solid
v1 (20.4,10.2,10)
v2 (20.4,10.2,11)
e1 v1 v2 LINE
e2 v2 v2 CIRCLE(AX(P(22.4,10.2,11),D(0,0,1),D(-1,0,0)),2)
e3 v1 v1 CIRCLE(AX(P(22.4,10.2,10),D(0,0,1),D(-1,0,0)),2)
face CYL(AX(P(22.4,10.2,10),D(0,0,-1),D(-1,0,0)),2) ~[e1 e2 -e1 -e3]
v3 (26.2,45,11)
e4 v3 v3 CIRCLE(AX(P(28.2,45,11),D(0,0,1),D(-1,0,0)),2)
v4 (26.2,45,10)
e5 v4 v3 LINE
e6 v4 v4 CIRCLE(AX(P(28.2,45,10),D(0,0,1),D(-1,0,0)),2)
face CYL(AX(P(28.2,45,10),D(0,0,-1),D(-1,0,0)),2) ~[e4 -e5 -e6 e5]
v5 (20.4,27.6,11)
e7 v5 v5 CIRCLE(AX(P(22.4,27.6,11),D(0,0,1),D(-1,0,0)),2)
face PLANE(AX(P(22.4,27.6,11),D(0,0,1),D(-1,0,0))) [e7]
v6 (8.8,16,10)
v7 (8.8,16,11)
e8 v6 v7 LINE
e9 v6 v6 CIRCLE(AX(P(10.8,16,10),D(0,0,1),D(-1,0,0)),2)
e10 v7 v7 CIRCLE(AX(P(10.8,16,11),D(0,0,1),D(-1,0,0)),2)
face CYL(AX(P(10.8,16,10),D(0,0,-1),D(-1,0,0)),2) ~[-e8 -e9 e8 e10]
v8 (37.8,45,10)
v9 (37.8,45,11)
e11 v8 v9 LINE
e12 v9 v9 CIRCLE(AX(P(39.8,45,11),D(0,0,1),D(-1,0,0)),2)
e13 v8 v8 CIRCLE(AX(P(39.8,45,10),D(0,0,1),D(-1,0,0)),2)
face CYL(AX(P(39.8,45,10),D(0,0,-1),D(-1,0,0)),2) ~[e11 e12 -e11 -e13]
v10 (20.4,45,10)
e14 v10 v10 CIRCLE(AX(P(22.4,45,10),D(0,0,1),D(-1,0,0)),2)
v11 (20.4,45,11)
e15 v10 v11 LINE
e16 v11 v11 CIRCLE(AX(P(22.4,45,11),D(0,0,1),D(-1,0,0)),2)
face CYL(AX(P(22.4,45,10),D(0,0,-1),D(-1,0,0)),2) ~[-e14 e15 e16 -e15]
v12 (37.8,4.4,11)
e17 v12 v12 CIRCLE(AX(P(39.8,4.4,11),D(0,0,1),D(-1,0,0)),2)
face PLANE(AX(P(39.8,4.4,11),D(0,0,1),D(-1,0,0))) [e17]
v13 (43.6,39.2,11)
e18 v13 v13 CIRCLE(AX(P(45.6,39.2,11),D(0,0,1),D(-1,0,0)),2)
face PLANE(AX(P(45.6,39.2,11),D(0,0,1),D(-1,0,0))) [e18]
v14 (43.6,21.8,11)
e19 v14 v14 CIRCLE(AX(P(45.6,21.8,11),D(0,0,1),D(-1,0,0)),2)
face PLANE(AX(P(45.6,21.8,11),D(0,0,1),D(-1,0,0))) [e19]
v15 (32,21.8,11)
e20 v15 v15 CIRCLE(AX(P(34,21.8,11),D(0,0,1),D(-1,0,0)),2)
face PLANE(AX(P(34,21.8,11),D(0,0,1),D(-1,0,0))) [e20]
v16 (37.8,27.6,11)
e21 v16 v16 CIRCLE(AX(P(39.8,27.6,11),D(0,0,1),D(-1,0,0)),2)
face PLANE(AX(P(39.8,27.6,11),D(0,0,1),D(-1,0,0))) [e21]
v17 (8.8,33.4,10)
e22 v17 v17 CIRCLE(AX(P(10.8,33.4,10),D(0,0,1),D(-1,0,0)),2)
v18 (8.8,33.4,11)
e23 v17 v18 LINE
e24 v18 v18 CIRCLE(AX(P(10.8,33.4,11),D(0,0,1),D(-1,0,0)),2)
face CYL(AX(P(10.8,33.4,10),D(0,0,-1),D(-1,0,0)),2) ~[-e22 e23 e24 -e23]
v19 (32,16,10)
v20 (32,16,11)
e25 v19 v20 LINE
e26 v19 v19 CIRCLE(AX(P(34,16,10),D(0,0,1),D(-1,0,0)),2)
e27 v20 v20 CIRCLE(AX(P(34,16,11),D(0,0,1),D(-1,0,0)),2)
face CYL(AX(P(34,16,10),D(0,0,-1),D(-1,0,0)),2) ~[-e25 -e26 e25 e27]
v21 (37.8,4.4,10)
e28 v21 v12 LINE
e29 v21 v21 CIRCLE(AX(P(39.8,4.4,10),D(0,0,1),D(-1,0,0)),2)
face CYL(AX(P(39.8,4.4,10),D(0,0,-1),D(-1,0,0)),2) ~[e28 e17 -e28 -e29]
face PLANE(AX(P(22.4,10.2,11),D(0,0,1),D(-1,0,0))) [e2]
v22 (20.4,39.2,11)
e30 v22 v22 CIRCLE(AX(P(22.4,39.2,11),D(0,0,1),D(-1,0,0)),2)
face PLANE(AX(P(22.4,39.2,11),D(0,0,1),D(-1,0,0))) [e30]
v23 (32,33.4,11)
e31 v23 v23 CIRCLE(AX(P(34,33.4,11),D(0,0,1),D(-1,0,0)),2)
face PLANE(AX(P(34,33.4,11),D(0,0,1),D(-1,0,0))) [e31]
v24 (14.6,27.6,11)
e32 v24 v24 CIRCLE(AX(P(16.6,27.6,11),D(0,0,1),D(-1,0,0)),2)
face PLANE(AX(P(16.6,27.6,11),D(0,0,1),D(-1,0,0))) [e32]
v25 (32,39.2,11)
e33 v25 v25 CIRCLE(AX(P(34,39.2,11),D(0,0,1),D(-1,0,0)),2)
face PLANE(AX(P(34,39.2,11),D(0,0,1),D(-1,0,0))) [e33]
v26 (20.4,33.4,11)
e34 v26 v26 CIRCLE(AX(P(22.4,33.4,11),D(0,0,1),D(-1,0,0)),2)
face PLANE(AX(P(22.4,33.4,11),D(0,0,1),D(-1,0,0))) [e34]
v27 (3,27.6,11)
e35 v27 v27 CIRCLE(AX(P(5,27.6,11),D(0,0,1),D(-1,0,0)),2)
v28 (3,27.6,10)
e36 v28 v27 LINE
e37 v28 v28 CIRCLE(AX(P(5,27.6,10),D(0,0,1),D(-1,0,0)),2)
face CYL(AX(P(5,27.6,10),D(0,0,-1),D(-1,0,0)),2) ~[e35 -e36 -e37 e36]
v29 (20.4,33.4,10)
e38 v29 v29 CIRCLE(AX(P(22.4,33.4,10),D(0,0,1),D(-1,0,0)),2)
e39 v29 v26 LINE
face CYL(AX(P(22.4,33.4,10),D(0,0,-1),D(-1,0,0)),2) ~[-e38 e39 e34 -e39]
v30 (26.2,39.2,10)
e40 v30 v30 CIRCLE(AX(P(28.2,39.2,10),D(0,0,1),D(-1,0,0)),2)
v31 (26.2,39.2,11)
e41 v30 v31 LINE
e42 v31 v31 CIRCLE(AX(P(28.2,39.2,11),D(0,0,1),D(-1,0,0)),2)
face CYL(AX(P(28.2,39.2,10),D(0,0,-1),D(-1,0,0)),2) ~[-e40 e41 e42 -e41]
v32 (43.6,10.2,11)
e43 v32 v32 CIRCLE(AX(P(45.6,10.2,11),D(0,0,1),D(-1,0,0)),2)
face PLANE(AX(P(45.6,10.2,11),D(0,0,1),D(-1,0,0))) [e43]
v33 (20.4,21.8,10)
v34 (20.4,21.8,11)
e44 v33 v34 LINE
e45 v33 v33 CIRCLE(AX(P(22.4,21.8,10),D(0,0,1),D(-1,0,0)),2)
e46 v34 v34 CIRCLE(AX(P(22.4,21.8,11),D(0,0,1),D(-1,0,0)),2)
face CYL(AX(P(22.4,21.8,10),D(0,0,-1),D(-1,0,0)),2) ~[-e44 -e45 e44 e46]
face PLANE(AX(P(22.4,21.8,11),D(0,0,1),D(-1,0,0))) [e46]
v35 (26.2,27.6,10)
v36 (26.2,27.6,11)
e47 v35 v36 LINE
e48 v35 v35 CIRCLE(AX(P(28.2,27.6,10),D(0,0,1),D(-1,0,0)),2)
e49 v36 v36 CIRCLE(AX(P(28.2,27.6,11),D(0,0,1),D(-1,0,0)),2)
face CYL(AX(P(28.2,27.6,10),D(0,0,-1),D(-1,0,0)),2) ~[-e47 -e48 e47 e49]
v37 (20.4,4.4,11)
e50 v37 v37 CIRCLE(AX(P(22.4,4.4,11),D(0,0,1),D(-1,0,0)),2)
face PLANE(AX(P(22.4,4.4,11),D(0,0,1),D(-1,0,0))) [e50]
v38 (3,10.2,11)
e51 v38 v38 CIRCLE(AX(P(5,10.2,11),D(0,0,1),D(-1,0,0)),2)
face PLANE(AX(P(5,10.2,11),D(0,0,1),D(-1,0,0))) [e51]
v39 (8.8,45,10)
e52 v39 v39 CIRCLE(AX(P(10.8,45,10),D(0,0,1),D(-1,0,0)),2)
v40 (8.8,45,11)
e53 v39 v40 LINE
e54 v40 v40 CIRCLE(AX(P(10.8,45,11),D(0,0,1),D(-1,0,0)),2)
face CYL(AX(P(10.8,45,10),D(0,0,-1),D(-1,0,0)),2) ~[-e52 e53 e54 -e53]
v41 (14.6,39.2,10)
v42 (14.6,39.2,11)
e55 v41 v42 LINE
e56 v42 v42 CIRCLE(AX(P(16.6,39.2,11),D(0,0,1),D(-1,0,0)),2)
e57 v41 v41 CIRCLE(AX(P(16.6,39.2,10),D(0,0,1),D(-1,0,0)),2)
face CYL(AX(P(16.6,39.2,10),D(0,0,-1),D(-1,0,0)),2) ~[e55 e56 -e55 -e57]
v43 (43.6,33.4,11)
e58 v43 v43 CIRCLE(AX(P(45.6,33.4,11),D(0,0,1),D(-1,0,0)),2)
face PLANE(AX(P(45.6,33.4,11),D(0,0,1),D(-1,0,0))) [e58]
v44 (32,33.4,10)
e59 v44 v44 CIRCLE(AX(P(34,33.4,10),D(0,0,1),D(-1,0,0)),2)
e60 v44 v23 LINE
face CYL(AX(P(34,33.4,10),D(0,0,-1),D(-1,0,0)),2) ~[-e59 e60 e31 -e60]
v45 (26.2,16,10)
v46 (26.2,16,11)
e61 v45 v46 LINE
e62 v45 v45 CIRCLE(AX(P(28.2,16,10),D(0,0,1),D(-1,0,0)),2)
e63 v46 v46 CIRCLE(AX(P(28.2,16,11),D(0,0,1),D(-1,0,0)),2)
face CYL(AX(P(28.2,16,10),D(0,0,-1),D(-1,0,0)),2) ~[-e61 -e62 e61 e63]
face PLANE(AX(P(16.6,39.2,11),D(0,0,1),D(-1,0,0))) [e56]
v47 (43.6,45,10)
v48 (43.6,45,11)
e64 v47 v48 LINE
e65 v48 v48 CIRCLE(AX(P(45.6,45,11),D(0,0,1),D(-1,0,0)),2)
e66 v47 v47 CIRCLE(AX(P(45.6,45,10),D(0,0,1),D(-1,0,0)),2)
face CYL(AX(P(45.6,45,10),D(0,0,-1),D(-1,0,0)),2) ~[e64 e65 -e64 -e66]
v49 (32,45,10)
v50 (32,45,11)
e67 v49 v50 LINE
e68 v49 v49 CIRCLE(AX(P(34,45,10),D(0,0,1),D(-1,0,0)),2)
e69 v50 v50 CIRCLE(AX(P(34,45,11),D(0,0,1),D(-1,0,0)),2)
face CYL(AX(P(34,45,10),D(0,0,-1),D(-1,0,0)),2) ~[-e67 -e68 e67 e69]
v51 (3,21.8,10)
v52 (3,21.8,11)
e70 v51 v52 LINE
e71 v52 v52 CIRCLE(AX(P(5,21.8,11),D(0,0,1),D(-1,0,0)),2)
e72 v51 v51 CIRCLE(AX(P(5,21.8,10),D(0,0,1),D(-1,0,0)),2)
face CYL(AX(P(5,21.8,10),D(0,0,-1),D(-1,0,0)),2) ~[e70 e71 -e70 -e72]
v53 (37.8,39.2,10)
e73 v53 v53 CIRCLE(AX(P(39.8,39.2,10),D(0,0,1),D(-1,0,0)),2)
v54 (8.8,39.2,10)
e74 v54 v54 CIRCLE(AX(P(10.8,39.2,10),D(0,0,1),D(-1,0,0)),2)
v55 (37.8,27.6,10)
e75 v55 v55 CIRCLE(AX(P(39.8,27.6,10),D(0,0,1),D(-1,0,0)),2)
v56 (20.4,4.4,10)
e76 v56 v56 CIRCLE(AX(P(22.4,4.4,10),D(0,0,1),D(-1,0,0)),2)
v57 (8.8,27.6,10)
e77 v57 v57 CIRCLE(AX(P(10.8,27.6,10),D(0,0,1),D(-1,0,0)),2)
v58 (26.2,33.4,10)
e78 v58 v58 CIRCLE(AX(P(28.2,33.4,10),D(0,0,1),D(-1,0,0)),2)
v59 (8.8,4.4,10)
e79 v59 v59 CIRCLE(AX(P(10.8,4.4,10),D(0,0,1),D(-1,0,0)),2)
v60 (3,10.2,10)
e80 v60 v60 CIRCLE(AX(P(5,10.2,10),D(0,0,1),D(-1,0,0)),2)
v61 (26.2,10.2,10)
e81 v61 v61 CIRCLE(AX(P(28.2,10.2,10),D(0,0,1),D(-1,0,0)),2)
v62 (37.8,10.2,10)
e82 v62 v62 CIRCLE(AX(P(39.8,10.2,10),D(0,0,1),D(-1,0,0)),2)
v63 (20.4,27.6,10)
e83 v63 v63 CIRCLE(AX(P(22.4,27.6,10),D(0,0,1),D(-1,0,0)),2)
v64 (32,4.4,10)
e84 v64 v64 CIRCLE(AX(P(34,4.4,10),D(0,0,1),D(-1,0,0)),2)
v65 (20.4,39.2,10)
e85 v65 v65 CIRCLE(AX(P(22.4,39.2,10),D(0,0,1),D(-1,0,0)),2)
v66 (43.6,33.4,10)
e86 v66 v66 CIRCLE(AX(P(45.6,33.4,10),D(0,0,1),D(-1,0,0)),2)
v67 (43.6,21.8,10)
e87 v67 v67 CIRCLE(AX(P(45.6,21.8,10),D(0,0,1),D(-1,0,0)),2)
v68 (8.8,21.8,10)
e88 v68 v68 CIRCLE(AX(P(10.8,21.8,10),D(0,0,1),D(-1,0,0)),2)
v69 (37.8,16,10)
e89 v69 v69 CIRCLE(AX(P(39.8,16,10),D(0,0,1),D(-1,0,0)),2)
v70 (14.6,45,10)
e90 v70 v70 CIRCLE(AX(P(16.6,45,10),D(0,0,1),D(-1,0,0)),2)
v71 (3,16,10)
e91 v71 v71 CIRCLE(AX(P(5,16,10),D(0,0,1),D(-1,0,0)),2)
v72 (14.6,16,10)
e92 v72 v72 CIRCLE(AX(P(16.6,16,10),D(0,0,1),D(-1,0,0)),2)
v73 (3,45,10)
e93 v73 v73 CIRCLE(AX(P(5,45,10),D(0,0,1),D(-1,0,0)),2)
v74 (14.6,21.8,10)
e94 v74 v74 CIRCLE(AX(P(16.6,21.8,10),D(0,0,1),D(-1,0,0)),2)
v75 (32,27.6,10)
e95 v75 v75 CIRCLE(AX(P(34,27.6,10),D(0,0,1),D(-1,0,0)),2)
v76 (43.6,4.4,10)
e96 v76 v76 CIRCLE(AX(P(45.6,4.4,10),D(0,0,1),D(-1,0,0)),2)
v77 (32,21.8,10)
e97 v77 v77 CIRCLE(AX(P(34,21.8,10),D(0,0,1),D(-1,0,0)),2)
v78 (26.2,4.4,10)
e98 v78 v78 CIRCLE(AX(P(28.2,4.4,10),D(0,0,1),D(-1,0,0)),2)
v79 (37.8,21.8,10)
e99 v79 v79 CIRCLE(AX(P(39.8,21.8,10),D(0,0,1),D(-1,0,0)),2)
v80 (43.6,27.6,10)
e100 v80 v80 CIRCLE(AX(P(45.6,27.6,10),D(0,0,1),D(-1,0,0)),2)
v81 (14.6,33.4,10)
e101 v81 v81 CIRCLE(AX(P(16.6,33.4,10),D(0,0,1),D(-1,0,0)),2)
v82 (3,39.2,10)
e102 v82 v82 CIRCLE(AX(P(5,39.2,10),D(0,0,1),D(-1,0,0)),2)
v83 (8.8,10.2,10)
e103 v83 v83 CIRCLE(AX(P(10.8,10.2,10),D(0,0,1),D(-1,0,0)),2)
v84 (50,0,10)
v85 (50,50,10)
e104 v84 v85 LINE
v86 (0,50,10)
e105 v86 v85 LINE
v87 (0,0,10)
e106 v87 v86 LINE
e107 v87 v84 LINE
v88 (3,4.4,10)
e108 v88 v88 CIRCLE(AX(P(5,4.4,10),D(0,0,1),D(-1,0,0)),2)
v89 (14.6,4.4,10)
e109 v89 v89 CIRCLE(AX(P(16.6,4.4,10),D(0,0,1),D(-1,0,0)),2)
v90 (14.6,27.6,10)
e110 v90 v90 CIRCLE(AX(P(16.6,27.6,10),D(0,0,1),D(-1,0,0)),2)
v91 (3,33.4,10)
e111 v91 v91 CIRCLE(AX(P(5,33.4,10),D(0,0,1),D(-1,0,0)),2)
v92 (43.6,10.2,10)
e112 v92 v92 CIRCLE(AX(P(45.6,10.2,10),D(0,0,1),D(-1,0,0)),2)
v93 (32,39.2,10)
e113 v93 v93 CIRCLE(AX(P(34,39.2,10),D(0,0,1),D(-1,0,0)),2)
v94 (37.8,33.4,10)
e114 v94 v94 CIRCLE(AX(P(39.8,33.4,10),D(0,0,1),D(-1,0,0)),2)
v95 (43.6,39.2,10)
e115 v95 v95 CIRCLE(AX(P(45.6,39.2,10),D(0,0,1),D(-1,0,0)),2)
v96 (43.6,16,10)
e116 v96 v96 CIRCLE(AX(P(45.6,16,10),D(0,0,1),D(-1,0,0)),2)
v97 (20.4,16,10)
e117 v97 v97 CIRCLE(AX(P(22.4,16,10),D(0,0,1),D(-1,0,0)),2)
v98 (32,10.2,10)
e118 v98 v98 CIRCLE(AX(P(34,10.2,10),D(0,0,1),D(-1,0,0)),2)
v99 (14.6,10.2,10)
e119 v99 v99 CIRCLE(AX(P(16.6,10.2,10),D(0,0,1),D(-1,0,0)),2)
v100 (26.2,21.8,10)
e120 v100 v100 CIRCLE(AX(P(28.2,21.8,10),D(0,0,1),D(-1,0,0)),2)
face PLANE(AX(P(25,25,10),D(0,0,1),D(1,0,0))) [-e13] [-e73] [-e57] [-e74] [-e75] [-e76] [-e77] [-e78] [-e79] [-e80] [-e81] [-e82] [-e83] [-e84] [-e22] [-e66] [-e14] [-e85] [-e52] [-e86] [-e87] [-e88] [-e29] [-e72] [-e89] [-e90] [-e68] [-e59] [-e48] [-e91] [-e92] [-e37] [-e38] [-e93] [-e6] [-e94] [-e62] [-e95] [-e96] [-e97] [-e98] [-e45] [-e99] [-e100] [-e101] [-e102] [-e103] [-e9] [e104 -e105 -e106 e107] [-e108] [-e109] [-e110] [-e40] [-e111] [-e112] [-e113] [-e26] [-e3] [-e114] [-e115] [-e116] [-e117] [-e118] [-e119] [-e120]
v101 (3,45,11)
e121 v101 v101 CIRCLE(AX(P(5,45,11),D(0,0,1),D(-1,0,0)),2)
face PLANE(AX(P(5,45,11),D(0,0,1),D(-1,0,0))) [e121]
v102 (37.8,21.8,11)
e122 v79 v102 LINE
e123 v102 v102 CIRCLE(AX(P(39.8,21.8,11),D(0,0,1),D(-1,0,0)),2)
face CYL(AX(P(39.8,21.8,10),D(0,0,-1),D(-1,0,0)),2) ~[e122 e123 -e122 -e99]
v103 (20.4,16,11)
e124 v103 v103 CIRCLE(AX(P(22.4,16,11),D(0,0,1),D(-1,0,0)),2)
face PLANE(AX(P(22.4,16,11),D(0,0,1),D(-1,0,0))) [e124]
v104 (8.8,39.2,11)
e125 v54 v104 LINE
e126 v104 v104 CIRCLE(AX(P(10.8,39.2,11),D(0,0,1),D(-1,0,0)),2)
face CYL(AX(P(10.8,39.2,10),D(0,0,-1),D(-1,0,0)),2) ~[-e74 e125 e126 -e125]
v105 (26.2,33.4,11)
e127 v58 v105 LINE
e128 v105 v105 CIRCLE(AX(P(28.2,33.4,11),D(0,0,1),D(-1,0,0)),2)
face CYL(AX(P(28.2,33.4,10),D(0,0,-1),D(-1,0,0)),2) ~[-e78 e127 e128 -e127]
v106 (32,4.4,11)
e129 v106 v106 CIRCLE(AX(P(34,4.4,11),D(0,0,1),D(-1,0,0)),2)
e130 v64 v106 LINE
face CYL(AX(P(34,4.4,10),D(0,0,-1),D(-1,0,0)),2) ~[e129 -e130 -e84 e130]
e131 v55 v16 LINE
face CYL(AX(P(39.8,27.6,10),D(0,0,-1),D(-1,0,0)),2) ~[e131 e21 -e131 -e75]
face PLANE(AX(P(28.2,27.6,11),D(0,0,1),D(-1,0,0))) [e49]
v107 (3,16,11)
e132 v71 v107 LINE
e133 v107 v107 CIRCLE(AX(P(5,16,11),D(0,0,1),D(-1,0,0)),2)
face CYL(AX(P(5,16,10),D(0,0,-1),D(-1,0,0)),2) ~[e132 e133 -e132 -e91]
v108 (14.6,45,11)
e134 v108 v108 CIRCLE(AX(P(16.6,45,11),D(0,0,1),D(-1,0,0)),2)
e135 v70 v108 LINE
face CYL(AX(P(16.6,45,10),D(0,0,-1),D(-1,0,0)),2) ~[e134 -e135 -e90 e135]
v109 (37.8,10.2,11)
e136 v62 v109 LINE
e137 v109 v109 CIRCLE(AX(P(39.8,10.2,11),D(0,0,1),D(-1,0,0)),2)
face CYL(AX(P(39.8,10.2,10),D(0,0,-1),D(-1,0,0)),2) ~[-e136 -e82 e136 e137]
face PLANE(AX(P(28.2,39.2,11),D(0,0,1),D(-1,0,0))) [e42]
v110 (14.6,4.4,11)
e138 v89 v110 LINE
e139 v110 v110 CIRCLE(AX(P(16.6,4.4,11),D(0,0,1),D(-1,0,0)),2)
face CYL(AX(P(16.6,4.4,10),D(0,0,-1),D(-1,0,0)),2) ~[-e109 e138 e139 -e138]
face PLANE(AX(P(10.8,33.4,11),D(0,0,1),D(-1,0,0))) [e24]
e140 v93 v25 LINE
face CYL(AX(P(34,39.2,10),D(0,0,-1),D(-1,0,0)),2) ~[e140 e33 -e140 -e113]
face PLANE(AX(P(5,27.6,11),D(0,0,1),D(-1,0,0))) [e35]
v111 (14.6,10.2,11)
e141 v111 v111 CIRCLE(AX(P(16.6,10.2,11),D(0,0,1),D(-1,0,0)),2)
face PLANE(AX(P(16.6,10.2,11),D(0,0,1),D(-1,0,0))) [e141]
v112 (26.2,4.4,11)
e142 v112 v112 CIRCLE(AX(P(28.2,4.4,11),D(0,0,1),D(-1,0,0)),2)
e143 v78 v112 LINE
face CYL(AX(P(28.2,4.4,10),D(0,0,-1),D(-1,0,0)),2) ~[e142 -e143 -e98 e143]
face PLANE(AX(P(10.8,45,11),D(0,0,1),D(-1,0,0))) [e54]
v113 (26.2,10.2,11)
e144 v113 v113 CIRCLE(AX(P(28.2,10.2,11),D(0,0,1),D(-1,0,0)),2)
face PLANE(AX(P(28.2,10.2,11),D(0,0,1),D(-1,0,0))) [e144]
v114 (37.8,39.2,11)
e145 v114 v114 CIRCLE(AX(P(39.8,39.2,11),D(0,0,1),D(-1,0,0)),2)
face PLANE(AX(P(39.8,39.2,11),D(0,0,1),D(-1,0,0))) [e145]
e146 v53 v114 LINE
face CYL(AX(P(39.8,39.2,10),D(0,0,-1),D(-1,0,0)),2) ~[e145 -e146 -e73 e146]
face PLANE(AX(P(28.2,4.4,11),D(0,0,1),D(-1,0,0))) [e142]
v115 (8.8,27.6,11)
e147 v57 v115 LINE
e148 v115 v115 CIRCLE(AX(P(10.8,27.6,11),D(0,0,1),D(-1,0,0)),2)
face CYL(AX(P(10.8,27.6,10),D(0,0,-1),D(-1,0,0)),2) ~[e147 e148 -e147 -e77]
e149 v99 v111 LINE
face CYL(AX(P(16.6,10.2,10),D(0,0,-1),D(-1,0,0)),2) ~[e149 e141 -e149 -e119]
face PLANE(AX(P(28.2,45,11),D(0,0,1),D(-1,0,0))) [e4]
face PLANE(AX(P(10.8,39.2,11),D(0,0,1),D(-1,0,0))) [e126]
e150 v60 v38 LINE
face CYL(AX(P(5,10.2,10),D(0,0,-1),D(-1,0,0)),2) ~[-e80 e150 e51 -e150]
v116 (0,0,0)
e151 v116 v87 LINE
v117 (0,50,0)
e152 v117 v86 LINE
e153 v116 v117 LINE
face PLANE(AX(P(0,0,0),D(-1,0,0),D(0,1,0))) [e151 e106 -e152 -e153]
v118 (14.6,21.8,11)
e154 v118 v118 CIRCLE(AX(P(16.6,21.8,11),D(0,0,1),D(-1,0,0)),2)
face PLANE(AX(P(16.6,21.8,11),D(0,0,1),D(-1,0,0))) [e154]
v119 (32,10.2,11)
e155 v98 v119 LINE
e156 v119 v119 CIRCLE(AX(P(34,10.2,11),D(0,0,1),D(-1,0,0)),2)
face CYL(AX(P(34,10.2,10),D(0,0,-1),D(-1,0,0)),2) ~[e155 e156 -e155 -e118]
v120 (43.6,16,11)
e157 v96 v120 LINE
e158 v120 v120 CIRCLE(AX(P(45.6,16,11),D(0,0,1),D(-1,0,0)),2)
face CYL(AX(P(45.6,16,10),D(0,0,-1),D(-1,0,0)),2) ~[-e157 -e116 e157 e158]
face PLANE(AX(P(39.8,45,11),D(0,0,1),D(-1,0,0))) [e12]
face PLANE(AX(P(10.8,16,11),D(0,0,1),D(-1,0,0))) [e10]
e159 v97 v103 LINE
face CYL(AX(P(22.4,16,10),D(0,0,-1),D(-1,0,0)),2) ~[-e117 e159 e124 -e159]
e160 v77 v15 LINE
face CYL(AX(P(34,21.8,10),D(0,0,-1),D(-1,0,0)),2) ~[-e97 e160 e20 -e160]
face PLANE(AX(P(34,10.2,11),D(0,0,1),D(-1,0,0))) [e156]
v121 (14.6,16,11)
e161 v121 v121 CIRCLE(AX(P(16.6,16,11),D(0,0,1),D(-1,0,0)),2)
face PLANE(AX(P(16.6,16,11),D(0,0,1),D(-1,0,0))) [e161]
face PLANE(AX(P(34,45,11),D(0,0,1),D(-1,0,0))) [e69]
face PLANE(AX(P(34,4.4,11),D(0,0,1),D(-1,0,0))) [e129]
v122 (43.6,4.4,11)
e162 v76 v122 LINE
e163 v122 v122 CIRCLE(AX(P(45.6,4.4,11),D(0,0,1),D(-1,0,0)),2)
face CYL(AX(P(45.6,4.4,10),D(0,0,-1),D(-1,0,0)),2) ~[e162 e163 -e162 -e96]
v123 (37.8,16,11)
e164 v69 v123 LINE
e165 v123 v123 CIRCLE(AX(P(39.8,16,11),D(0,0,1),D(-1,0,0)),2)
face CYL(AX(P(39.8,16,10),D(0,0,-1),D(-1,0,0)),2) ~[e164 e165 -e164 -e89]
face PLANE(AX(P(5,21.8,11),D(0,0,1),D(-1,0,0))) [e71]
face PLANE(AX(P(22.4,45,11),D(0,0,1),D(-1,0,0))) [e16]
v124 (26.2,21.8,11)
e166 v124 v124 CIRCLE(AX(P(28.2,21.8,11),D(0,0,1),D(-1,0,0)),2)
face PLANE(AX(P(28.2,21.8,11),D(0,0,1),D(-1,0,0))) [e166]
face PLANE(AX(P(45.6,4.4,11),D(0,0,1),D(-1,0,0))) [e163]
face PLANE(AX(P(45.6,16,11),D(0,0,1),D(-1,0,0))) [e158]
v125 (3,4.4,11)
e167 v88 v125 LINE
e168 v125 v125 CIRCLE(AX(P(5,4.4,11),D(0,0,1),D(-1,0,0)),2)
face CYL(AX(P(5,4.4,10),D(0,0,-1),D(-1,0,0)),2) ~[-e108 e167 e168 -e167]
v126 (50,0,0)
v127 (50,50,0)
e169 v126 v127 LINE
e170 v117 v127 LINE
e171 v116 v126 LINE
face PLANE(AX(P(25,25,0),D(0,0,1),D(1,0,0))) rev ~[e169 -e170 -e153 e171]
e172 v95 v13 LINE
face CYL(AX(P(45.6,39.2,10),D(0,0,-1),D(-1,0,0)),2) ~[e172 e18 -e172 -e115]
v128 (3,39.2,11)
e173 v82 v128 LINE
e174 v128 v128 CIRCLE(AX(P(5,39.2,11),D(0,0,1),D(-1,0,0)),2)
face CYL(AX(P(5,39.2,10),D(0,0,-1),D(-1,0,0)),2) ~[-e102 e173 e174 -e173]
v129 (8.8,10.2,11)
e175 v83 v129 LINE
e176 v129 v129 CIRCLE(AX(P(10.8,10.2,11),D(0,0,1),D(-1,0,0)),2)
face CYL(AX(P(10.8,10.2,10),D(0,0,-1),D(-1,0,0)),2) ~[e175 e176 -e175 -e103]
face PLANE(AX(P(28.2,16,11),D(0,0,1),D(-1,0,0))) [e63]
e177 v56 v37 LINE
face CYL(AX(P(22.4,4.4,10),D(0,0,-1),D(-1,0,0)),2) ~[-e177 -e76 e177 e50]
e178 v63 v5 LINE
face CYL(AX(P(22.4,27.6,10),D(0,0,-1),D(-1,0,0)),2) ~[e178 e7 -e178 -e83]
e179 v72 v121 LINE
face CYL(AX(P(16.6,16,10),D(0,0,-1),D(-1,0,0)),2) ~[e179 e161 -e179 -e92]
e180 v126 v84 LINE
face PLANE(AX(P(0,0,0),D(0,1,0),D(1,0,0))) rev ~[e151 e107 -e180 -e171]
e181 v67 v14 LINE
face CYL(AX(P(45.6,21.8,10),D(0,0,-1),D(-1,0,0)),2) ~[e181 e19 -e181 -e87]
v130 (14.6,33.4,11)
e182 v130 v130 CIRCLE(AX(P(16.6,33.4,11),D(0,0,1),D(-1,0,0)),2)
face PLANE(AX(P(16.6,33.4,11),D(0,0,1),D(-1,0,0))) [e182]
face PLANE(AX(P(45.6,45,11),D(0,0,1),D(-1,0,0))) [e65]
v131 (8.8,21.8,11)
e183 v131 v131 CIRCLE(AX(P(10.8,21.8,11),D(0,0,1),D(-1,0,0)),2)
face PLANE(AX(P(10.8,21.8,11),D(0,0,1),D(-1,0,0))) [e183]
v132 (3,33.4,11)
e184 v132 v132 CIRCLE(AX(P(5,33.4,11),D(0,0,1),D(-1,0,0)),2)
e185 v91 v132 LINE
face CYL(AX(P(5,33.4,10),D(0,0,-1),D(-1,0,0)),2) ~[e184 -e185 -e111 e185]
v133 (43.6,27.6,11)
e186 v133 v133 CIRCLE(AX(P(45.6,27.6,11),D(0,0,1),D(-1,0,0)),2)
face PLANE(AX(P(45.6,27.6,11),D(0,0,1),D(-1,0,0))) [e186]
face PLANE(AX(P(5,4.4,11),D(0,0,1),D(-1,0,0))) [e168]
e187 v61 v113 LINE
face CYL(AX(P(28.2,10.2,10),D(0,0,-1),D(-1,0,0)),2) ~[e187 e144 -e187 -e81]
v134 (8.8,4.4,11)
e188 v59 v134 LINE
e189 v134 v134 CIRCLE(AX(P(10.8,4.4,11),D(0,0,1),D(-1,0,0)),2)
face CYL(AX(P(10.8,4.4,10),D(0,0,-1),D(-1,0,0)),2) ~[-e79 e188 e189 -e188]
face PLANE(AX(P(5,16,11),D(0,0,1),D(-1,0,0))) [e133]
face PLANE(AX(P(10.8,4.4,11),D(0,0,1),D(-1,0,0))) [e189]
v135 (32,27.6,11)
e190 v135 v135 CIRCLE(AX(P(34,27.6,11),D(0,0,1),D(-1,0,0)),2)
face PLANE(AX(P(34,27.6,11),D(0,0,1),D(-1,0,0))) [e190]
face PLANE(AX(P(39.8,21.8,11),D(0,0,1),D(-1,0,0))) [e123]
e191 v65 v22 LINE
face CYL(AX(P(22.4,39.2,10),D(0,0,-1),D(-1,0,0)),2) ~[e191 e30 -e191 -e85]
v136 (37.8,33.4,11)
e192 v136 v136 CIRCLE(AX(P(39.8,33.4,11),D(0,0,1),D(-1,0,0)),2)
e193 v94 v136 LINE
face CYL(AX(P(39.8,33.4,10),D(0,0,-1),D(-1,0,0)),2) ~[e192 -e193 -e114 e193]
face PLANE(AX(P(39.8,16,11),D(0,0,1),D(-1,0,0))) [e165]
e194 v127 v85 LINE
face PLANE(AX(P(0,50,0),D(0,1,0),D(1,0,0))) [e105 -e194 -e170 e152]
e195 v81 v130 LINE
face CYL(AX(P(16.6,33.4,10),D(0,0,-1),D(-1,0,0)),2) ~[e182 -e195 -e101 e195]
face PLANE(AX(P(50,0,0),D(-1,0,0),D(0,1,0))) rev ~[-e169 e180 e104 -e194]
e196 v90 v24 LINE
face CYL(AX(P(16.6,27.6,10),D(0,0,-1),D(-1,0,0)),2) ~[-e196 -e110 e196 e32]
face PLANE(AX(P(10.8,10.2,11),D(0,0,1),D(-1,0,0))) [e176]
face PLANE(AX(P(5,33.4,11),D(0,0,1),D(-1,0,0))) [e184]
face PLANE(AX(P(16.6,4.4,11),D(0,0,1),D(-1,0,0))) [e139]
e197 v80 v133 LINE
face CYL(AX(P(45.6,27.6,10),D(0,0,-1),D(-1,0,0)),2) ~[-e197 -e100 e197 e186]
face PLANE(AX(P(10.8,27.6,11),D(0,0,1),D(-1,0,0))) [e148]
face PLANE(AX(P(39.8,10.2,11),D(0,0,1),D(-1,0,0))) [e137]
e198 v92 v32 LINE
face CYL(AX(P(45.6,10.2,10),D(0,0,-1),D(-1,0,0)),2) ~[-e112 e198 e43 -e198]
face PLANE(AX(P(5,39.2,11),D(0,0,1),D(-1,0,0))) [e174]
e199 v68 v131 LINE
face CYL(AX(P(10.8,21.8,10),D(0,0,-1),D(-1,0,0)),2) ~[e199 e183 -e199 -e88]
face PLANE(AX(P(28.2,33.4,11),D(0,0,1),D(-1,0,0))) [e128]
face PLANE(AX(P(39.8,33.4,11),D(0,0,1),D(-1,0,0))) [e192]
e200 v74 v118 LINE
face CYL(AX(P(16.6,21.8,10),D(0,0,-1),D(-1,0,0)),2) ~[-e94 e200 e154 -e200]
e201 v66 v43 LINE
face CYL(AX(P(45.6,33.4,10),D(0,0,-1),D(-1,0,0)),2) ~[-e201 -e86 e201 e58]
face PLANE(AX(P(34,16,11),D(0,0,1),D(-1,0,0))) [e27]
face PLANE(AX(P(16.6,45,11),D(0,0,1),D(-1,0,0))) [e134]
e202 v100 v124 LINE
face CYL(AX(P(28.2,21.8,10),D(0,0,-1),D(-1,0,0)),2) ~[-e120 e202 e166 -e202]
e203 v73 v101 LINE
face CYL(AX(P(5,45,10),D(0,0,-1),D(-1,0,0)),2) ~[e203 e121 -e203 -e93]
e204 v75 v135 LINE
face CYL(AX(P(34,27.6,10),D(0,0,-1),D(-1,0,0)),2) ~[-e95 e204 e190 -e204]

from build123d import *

# Parameters (mm, degrees)
SKETCH_1_W      = 50
SKETCH_1_H      = 50
EXTRUDE_1_DEPTH = 10
SKETCH_2_R      = 2
EXTRUDE_2_DEPTH = 1


with BuildPart() as part:
    # 草圖1 → 填料-伸長1 (new body)
    with BuildSketch(Plane.XY):
        with Locations((25, 25)):
            Rectangle(SKETCH_1_W, SKETCH_1_H)
    extrude(amount=EXTRUDE_1_DEPTH)

    # 草圖2 → 填料-伸長2 (add)
    with BuildSketch(Plane.XY.offset(10)):
        with Locations(Location((5, 45, 0), (0, 0, 180))):
            Circle(SKETCH_2_R)
        with Locations(Location((10.8, 45, 0), (0, 0, 180))):
            Circle(SKETCH_2_R)
        with Locations(Location((16.6, 45, 0), (0, 0, 180))):
            Circle(SKETCH_2_R)
        with Locations(Location((22.4, 45, 0), (0, 0, 180))):
            Circle(SKETCH_2_R)
        with Locations(Location((28.2, 45, 0), (0, 0, 180))):
            Circle(SKETCH_2_R)
        with Locations(Location((34, 45, 0), (0, 0, 180))):
            Circle(SKETCH_2_R)
        with Locations(Location((39.8, 45, 0), (0, 0, 180))):
            Circle(SKETCH_2_R)
        with Locations(Location((45.6, 45, 0), (0, 0, 180))):
            Circle(SKETCH_2_R)
        with Locations(Location((5, 39.2, 0), (0, 0, 180))):
            Circle(SKETCH_2_R)
        with Locations(Location((10.8, 39.2, 0), (0, 0, 180))):
            Circle(SKETCH_2_R)
        with Locations(Location((16.6, 39.2, 0), (0, 0, 180))):
            Circle(SKETCH_2_R)
        with Locations(Location((22.4, 39.2, 0), (0, 0, 180))):
            Circle(SKETCH_2_R)
        with Locations(Location((28.2, 39.2, 0), (0, 0, 180))):
            Circle(SKETCH_2_R)
        with Locations(Location((34, 39.2, 0), (0, 0, 180))):
            Circle(SKETCH_2_R)
        with Locations(Location((39.8, 39.2, 0), (0, 0, 180))):
            Circle(SKETCH_2_R)
        with Locations(Location((45.6, 39.2, 0), (0, 0, 180))):
            Circle(SKETCH_2_R)
        with Locations(Location((5, 33.4, 0), (0, 0, 180))):
            Circle(SKETCH_2_R)
        with Locations(Location((10.8, 33.4, 0), (0, 0, 180))):
            Circle(SKETCH_2_R)
        with Locations(Location((16.6, 33.4, 0), (0, 0, 180))):
            Circle(SKETCH_2_R)
        with Locations(Location((22.4, 33.4, 0), (0, 0, 180))):
            Circle(SKETCH_2_R)
        with Locations(Location((28.2, 33.4, 0), (0, 0, 180))):
            Circle(SKETCH_2_R)
        with Locations(Location((34, 33.4, 0), (0, 0, 180))):
            Circle(SKETCH_2_R)
        with Locations(Location((39.8, 33.4, 0), (0, 0, 180))):
            Circle(SKETCH_2_R)
        with Locations(Location((45.6, 33.4, 0), (0, 0, 180))):
            Circle(SKETCH_2_R)
        with Locations(Location((5, 27.6, 0), (0, 0, 180))):
            Circle(SKETCH_2_R)
        with Locations(Location((10.8, 27.6, 0), (0, 0, 180))):
            Circle(SKETCH_2_R)
        with Locations(Location((16.6, 27.6, 0), (0, 0, 180))):
            Circle(SKETCH_2_R)
        with Locations(Location((22.4, 27.6, 0), (0, 0, 180))):
            Circle(SKETCH_2_R)
        with Locations(Location((28.2, 27.6, 0), (0, 0, 180))):
            Circle(SKETCH_2_R)
        with Locations(Location((34, 27.6, 0), (0, 0, 180))):
            Circle(SKETCH_2_R)
        with Locations(Location((39.8, 27.6, 0), (0, 0, 180))):
            Circle(SKETCH_2_R)
        with Locations(Location((45.6, 27.6, 0), (0, 0, 180))):
            Circle(SKETCH_2_R)
        with Locations(Location((5, 21.8, 0), (0, 0, 180))):
            Circle(SKETCH_2_R)
        with Locations(Location((10.8, 21.8, 0), (0, 0, 180))):
            Circle(SKETCH_2_R)
        with Locations(Location((16.6, 21.8, 0), (0, 0, 180))):
            Circle(SKETCH_2_R)
        with Locations(Location((22.4, 21.8, 0), (0, 0, 180))):
            Circle(SKETCH_2_R)
        with Locations(Location((28.2, 21.8, 0), (0, 0, 180))):
            Circle(SKETCH_2_R)
        with Locations(Location((34, 21.8, 0), (0, 0, 180))):
            Circle(SKETCH_2_R)
        with Locations(Location((39.8, 21.8, 0), (0, 0, 180))):
            Circle(SKETCH_2_R)
        with Locations(Location((45.6, 21.8, 0), (0, 0, 180))):
            Circle(SKETCH_2_R)
        with Locations(Location((5, 16, 0), (0, 0, 180))):
            Circle(SKETCH_2_R)
        with Locations(Location((10.8, 16, 0), (0, 0, 180))):
            Circle(SKETCH_2_R)
        with Locations(Location((16.6, 16, 0), (0, 0, 180))):
            Circle(SKETCH_2_R)
        with Locations(Location((22.4, 16, 0), (0, 0, 180))):
            Circle(SKETCH_2_R)
        with Locations(Location((28.2, 16, 0), (0, 0, 180))):
            Circle(SKETCH_2_R)
        with Locations(Location((34, 16, 0), (0, 0, 180))):
            Circle(SKETCH_2_R)
        with Locations(Location((39.8, 16, 0), (0, 0, 180))):
            Circle(SKETCH_2_R)
        with Locations(Location((45.6, 16, 0), (0, 0, 180))):
            Circle(SKETCH_2_R)
        with Locations(Location((5, 10.2, 0), (0, 0, 180))):
            Circle(SKETCH_2_R)
        with Locations(Location((10.8, 10.2, 0), (0, 0, 180))):
            Circle(SKETCH_2_R)
        with Locations(Location((16.6, 10.2, 0), (0, 0, 180))):
            Circle(SKETCH_2_R)
        with Locations(Location((22.4, 10.2, 0), (0, 0, 180))):
            Circle(SKETCH_2_R)
        with Locations(Location((28.2, 10.2, 0), (0, 0, 180))):
            Circle(SKETCH_2_R)
        with Locations(Location((34, 10.2, 0), (0, 0, 180))):
            Circle(SKETCH_2_R)
        with Locations(Location((39.8, 10.2, 0), (0, 0, 180))):
            Circle(SKETCH_2_R)
        with Locations(Location((45.6, 10.2, 0), (0, 0, 180))):
            Circle(SKETCH_2_R)
        with Locations(Location((5, 4.4, 0), (0, 0, 180))):
            Circle(SKETCH_2_R)
        with Locations(Location((10.8, 4.4, 0), (0, 0, 180))):
            Circle(SKETCH_2_R)
        with Locations(Location((16.6, 4.4, 0), (0, 0, 180))):
            Circle(SKETCH_2_R)
        with Locations(Location((22.4, 4.4, 0), (0, 0, 180))):
            Circle(SKETCH_2_R)
        with Locations(Location((28.2, 4.4, 0), (0, 0, 180))):
            Circle(SKETCH_2_R)
        with Locations(Location((34, 4.4, 0), (0, 0, 180))):
            Circle(SKETCH_2_R)
        with Locations(Location((39.8, 4.4, 0), (0, 0, 180))):
            Circle(SKETCH_2_R)
        with Locations(Location((45.6, 4.4, 0), (0, 0, 180))):
            Circle(SKETCH_2_R)
    extrude(amount=EXTRUDE_2_DEPTH)


solid = part.part
